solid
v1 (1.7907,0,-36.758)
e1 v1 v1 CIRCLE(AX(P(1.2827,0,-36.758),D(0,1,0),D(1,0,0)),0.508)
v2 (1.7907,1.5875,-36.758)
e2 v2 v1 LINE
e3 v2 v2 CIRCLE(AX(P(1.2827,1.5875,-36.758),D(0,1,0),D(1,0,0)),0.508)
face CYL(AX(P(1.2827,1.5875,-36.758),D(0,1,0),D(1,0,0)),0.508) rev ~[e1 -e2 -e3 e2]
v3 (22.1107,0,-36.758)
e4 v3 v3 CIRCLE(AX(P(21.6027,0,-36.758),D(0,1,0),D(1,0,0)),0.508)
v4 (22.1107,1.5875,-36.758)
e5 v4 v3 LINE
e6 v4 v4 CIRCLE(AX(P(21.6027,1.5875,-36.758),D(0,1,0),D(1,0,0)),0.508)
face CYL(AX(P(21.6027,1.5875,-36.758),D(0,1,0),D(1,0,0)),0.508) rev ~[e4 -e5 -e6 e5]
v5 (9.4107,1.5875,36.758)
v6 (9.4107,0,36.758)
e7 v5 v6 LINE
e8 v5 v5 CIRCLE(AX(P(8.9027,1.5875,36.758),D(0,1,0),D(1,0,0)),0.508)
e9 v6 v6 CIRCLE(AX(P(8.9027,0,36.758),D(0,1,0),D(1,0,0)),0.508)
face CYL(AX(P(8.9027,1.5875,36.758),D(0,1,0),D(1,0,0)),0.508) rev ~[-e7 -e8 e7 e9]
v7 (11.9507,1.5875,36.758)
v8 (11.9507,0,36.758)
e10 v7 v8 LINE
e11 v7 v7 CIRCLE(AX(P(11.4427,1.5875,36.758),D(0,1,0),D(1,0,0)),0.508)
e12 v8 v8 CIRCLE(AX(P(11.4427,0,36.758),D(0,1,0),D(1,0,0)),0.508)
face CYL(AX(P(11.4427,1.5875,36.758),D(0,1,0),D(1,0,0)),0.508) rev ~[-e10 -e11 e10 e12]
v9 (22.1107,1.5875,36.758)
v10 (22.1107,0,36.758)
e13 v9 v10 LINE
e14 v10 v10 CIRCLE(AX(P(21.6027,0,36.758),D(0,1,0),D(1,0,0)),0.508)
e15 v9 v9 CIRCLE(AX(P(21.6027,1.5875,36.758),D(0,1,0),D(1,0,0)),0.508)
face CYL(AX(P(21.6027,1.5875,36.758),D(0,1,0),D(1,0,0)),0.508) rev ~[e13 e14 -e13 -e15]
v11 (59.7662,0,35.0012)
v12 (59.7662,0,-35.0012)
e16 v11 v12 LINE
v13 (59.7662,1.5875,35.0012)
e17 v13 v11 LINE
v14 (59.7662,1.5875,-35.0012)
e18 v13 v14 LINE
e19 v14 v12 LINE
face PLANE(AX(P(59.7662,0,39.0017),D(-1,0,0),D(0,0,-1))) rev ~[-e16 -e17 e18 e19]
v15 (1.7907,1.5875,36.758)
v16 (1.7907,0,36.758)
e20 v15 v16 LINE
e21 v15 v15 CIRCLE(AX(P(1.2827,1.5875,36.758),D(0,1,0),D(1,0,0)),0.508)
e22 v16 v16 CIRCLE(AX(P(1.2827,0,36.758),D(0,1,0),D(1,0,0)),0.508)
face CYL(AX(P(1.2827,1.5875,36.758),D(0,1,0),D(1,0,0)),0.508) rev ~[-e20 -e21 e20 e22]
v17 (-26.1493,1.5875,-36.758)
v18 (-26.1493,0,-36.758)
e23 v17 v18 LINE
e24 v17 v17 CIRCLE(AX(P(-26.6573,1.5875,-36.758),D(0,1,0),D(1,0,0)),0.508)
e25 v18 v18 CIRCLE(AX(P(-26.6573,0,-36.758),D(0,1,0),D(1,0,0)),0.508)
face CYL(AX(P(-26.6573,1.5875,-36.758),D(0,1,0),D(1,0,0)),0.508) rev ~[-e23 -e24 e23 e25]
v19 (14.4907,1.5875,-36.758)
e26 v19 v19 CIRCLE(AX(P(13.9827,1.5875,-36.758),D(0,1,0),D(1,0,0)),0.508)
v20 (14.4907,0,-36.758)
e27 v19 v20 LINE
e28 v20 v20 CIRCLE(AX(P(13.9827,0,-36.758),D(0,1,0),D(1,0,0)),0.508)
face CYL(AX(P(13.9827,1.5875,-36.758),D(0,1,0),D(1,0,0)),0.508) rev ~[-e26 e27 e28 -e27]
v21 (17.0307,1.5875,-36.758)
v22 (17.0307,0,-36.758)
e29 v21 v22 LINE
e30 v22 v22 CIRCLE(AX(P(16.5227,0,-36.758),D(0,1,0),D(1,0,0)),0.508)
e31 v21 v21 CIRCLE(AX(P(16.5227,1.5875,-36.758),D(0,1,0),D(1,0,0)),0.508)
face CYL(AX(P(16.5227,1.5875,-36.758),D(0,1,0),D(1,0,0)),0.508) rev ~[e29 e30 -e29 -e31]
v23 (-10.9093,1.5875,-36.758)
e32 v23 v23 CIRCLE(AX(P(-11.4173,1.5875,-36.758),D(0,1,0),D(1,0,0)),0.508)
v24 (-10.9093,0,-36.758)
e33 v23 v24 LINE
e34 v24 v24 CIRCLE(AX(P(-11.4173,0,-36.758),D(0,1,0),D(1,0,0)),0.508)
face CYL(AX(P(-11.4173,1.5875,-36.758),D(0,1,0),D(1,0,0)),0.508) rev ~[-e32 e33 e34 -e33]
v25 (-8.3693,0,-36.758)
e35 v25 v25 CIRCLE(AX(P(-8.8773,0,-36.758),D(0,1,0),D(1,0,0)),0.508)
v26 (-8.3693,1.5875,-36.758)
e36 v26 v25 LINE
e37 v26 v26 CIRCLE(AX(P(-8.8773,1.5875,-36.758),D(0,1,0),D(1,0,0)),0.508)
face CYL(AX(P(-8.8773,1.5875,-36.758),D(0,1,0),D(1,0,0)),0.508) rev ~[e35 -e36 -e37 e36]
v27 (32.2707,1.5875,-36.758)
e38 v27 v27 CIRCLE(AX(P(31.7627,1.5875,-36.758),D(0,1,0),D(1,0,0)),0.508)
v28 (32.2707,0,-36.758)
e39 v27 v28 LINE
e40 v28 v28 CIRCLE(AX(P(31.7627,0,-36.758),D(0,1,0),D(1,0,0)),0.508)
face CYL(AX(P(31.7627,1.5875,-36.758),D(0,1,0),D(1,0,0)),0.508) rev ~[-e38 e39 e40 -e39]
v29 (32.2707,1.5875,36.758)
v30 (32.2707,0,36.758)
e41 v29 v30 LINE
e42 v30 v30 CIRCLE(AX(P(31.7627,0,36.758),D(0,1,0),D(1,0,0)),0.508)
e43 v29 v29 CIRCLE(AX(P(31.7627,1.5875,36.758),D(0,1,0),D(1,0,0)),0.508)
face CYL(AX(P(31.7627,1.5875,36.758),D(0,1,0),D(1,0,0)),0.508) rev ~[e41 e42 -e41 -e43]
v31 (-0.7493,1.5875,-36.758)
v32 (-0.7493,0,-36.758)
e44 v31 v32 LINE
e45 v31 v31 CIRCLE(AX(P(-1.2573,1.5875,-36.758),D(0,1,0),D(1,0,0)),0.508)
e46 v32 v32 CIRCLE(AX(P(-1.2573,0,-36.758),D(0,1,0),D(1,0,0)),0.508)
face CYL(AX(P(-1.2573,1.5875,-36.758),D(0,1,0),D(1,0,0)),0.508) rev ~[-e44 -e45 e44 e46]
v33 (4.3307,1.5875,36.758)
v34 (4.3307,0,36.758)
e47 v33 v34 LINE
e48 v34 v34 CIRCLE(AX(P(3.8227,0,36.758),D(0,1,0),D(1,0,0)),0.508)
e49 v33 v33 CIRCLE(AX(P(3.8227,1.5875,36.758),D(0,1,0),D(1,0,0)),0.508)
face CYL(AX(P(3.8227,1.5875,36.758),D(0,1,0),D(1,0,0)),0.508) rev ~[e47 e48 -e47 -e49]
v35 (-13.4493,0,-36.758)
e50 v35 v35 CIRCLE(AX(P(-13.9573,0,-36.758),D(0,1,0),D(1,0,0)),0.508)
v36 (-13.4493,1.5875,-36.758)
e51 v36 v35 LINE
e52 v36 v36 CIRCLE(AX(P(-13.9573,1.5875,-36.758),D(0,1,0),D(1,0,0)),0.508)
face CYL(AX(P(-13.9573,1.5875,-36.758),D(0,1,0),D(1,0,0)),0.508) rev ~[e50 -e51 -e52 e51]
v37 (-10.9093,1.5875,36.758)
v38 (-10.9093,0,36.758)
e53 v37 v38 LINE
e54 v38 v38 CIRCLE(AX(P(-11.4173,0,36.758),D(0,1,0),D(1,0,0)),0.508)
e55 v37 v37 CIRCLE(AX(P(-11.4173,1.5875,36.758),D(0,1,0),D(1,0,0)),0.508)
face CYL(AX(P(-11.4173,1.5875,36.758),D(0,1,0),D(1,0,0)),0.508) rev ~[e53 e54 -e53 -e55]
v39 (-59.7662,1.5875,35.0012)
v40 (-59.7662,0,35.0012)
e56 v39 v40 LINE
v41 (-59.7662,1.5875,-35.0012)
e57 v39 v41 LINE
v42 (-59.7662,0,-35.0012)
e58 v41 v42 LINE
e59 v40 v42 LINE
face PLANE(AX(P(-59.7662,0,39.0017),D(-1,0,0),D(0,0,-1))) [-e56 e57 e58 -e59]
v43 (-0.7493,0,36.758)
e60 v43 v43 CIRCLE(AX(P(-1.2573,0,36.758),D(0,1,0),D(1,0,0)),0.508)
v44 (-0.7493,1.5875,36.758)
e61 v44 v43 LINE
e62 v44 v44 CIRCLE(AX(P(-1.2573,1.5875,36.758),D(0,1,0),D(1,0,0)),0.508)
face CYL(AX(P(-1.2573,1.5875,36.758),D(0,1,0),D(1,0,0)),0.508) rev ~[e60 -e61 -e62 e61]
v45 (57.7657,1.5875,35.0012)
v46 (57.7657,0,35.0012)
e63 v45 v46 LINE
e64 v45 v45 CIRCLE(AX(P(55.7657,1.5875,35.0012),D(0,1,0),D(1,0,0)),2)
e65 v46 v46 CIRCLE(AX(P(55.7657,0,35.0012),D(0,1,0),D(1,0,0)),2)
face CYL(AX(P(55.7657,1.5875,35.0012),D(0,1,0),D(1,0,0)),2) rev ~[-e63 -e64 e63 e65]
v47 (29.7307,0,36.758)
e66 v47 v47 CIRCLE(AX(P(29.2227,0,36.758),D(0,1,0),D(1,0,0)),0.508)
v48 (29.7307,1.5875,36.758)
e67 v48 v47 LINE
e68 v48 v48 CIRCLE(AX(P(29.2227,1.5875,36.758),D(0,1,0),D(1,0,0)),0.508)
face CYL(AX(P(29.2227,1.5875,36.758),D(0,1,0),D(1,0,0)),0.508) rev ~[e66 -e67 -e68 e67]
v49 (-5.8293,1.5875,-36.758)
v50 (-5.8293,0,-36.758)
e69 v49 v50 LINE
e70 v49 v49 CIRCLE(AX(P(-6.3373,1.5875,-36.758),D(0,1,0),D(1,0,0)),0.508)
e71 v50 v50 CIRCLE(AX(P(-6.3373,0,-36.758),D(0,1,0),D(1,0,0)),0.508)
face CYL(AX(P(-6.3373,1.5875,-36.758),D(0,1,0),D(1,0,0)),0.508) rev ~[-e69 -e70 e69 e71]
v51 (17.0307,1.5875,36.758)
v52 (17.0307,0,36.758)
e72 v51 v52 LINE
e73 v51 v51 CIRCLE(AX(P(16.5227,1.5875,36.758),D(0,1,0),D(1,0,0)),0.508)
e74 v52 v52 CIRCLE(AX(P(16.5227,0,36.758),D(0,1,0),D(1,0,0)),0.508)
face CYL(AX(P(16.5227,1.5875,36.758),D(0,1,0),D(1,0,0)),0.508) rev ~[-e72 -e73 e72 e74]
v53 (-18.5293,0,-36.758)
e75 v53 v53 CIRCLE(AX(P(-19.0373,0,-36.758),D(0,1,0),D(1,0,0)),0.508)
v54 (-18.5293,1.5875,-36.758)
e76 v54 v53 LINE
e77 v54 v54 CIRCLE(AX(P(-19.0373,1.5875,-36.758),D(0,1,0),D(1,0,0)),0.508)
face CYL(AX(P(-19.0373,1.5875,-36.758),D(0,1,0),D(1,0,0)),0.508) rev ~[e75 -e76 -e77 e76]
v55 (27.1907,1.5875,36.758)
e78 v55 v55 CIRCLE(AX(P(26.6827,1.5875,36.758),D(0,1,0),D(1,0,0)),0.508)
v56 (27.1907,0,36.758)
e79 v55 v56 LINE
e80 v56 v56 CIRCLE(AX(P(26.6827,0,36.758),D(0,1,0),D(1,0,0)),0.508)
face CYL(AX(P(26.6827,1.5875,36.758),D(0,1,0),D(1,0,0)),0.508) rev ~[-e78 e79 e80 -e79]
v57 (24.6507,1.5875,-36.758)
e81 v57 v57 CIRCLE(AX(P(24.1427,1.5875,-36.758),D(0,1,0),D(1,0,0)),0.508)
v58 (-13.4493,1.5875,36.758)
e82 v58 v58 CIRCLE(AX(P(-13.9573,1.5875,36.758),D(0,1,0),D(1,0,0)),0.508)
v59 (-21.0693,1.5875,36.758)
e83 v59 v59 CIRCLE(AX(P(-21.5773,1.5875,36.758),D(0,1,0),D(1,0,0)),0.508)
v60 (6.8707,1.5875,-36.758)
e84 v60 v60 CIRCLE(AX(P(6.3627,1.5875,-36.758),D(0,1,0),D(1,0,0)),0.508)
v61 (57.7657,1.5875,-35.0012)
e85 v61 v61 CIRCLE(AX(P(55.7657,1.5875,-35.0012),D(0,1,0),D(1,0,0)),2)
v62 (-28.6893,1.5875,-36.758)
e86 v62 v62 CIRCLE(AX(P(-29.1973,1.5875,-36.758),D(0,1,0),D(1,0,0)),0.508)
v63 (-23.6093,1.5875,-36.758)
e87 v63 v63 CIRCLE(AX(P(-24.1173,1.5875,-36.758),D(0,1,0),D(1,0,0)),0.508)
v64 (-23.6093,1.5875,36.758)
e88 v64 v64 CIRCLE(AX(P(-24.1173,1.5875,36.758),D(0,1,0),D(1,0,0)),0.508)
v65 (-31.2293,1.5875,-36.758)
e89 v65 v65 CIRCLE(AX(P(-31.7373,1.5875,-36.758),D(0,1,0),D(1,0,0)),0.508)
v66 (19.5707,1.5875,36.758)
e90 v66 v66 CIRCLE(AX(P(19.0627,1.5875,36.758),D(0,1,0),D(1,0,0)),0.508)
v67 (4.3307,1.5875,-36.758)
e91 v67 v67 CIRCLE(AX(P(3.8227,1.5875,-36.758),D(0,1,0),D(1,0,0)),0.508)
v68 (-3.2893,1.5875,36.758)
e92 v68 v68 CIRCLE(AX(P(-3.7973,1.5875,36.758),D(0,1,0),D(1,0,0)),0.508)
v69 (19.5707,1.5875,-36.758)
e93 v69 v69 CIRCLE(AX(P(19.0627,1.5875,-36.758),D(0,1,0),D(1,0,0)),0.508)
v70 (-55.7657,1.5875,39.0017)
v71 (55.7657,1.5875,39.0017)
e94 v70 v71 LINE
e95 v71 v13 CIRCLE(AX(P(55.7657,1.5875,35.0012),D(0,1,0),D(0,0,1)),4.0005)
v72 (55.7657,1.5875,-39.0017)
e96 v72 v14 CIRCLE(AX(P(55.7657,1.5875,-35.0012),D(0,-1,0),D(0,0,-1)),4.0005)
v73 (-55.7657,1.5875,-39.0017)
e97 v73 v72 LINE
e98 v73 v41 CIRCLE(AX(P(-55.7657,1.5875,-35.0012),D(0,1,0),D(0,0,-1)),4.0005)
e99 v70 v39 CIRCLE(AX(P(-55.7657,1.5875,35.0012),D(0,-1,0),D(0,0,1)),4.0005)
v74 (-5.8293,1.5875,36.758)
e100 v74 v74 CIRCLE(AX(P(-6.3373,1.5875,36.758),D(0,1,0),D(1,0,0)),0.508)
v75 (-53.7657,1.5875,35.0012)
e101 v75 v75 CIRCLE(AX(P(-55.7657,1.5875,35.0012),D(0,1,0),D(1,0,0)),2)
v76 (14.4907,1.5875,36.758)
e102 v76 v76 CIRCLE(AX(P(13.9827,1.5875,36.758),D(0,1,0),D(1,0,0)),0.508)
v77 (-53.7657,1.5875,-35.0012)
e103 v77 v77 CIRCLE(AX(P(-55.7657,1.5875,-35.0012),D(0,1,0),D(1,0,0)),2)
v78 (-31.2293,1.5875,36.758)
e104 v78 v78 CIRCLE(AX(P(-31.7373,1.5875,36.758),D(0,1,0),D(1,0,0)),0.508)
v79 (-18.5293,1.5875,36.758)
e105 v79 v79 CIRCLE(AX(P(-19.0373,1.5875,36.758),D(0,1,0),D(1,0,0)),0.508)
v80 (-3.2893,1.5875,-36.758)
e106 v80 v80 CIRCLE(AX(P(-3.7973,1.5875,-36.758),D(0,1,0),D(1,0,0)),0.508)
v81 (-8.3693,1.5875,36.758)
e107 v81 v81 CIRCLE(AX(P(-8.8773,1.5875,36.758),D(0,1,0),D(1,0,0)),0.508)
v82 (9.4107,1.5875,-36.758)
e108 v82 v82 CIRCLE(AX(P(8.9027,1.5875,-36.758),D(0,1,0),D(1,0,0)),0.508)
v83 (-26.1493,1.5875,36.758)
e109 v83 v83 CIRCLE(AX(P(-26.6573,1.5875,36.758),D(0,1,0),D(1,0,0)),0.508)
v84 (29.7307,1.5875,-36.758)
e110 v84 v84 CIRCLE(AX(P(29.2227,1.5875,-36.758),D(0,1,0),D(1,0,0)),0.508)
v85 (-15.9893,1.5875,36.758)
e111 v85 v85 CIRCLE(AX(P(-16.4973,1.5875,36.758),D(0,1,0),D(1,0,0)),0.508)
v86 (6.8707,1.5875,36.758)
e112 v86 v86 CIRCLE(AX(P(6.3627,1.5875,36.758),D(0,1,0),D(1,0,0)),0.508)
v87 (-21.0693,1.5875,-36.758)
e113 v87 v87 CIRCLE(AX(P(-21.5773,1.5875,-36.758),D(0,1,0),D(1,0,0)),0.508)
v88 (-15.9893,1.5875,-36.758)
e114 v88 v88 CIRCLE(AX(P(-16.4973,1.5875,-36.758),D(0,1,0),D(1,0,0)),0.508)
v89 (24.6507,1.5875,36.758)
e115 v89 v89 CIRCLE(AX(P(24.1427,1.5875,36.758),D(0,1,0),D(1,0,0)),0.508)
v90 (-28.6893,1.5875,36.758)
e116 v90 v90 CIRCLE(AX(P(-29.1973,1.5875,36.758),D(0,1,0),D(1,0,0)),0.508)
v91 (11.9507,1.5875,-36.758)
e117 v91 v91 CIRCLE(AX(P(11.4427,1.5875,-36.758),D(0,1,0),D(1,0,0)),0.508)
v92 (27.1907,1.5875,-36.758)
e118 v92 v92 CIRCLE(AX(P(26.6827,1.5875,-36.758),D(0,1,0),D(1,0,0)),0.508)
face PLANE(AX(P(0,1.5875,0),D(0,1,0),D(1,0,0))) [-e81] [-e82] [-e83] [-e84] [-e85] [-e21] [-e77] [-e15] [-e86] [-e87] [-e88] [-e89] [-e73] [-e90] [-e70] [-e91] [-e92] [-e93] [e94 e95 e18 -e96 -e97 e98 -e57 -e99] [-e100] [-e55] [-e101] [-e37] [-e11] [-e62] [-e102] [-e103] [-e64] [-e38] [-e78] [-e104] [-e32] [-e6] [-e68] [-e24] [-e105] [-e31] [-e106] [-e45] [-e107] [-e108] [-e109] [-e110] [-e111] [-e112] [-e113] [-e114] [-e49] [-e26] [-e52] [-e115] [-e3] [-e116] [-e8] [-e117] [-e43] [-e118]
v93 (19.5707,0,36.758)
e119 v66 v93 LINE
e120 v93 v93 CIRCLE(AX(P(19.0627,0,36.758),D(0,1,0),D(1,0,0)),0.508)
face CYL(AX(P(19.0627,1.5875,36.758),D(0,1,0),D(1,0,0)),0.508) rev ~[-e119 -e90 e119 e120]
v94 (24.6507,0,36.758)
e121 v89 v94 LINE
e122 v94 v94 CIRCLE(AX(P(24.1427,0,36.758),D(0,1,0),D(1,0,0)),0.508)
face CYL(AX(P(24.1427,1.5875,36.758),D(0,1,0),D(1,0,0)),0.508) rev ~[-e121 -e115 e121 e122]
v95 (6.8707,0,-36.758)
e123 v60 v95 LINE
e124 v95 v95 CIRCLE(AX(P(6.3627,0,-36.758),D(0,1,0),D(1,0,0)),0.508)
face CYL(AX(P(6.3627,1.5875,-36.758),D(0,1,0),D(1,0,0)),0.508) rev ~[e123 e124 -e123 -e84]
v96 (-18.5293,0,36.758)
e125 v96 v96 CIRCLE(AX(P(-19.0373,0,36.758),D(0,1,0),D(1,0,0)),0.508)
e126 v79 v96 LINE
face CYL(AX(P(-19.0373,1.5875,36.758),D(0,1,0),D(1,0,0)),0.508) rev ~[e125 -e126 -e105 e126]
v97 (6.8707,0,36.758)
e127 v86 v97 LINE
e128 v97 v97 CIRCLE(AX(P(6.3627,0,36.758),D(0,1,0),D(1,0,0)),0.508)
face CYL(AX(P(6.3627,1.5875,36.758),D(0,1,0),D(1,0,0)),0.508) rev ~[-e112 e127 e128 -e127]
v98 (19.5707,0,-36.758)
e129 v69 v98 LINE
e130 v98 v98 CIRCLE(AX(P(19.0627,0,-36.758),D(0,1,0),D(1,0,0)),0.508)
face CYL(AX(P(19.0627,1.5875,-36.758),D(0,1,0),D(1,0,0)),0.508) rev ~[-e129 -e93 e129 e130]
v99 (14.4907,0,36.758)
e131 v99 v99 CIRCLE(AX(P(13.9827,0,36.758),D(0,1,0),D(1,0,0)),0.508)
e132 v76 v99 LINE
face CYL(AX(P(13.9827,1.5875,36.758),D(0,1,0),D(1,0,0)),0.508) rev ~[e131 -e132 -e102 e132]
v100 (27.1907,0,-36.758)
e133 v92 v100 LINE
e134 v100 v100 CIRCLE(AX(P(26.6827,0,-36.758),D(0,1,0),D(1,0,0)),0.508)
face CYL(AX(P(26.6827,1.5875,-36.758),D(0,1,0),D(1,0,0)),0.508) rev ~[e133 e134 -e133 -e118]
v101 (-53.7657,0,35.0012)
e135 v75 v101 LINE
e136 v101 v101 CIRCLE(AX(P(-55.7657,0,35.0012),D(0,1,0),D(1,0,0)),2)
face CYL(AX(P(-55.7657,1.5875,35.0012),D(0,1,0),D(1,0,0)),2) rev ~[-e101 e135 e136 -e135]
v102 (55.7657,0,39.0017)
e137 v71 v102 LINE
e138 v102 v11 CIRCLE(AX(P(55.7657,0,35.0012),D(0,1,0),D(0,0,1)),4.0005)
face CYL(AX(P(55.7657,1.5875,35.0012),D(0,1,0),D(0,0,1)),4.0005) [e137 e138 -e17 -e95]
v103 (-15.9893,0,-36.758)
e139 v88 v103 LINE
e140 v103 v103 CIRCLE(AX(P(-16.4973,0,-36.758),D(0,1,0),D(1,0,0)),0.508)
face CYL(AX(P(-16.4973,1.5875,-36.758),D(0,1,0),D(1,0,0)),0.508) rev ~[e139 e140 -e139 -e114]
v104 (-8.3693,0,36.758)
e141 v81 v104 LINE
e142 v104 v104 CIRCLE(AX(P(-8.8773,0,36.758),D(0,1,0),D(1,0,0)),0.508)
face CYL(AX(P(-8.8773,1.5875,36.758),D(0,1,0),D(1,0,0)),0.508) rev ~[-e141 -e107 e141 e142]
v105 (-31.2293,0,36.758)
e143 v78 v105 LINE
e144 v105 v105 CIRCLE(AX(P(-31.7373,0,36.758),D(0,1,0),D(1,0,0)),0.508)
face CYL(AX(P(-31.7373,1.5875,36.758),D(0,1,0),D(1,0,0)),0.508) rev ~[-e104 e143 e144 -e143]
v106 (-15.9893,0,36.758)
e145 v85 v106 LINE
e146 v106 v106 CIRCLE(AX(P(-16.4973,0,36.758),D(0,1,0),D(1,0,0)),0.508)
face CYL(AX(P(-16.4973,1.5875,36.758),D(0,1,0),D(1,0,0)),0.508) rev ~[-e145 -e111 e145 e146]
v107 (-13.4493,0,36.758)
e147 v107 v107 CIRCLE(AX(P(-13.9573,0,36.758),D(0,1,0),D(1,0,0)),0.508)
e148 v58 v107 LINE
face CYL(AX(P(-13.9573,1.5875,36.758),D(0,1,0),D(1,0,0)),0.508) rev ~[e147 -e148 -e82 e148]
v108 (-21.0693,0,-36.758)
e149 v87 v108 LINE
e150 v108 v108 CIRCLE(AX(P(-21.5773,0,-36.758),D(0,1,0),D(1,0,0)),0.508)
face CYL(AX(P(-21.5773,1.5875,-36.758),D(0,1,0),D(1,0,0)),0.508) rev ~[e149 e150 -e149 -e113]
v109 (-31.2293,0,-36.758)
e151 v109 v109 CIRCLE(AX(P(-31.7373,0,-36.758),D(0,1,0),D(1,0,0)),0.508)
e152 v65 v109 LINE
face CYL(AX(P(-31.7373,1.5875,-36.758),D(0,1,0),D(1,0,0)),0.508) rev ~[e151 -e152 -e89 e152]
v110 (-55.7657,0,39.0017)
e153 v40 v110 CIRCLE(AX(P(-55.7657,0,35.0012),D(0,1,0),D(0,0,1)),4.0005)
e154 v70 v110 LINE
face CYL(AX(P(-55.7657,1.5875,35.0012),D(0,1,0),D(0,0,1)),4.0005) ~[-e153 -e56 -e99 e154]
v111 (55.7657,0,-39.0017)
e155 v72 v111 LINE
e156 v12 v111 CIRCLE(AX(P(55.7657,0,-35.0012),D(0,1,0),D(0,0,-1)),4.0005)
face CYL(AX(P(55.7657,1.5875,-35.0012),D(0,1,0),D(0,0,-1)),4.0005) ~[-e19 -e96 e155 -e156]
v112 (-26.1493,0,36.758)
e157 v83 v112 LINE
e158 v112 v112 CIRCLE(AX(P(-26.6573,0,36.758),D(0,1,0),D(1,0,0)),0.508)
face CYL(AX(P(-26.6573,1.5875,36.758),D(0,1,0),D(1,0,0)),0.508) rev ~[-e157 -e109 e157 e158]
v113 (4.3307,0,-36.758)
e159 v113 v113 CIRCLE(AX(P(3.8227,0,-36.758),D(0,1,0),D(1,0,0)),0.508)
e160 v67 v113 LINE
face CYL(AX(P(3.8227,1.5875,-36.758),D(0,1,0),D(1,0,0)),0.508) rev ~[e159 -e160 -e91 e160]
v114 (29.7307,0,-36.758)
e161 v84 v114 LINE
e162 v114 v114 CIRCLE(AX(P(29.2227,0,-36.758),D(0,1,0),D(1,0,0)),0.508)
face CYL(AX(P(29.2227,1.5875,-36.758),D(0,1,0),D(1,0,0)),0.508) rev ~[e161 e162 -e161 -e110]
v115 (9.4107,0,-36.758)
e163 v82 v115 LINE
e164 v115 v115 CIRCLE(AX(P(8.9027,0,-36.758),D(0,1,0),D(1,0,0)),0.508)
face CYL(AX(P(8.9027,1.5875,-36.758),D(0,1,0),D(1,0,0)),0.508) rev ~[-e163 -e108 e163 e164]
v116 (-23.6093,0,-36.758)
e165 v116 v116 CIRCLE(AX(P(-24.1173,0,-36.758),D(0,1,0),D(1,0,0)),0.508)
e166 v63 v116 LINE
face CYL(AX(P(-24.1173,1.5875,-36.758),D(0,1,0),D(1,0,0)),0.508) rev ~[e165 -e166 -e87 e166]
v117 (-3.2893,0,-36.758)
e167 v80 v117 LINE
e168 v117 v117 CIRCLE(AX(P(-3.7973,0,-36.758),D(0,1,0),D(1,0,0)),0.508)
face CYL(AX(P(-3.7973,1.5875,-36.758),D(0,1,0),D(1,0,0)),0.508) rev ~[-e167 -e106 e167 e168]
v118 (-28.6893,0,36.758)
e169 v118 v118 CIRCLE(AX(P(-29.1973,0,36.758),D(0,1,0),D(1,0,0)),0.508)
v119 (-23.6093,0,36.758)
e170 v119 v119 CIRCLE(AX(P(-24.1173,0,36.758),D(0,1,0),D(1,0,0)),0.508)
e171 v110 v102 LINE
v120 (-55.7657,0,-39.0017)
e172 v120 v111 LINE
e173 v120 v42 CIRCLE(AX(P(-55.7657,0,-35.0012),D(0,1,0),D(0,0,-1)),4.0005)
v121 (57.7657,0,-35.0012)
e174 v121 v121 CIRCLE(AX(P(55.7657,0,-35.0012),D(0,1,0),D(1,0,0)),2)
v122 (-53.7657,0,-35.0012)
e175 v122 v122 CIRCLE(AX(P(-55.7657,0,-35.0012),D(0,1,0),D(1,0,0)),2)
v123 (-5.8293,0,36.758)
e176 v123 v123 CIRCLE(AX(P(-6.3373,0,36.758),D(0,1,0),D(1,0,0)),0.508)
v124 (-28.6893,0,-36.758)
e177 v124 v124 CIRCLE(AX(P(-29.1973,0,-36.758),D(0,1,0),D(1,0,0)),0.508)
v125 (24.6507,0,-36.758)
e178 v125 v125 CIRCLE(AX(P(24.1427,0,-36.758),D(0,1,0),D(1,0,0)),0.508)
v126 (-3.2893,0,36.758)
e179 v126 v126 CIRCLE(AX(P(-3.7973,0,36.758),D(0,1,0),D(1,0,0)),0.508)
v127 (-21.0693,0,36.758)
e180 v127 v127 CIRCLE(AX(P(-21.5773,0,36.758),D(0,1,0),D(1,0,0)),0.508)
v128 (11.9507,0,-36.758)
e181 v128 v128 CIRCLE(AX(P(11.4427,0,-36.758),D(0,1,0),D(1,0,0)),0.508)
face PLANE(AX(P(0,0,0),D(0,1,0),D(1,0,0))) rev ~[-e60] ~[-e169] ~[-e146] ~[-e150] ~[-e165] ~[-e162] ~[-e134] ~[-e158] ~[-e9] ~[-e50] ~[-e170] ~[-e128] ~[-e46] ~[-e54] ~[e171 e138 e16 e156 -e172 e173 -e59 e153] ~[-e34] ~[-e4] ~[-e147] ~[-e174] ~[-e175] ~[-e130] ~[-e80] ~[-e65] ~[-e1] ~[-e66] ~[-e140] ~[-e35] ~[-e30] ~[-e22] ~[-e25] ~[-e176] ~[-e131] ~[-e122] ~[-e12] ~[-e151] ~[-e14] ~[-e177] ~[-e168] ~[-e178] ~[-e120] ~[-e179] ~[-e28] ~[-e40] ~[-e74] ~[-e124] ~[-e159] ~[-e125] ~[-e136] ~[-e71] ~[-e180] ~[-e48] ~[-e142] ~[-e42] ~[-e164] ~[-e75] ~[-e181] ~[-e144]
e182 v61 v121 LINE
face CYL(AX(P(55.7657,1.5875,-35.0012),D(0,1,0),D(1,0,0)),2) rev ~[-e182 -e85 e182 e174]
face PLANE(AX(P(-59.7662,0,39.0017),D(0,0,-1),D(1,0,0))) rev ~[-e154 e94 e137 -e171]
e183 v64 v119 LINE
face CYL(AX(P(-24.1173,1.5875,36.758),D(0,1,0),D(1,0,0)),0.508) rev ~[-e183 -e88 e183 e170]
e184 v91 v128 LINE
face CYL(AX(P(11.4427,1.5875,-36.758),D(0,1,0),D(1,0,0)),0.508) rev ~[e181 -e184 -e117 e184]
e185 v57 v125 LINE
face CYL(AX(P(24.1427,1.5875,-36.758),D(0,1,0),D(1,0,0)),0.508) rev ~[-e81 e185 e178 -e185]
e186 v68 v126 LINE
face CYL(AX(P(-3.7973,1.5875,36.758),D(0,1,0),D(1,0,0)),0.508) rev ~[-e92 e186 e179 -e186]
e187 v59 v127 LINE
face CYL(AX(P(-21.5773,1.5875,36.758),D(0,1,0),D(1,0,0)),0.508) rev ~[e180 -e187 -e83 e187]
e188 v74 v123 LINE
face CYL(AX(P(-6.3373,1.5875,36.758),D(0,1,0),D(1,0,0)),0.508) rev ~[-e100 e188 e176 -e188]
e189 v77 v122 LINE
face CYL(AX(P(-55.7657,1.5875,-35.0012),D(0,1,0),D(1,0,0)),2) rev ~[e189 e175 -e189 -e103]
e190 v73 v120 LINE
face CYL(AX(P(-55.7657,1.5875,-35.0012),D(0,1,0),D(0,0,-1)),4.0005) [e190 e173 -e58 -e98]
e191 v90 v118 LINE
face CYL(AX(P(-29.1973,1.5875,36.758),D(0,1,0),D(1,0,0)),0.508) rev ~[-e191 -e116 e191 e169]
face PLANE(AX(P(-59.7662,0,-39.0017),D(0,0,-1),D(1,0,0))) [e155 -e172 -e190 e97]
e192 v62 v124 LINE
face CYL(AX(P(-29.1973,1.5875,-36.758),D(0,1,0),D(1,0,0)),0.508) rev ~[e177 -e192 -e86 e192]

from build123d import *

# Parameters (mm, degrees)
SKETCH1_W           = 119.5324
SKETCH1_H           = 78.0034
BOSS_EXTRUDE1_DEPTH = 1.5875
CUT_EXTRUDE1_REACH  = 73.384
SKETCH2_R           = 2
CUT_EXTRUDE2_REACH  = 73.384
SKETCH3_R           = 0.508
CUT_EXTRUDE4_REACH  = 73.384
LPATTERN1_COUNT     = 26
LPATTERN1_PITCH     = 2.54


with BuildPart() as part:
    # Sketch1 → Boss-Extrude1 (new body)
    with BuildSketch(Plane(origin=(0, 0, 0), x_dir=(1, 0, 0), z_dir=(0, 1, 0))):
        Rectangle(SKETCH1_W, SKETCH1_H)
    extrude(amount=BOSS_EXTRUDE1_DEPTH)

    # Sketch2 → Cut-Extrude1 (cut, up to next)
    with BuildSketch(Plane(origin=(0, 1.5875, 0), x_dir=(1, 0, 0), z_dir=(0, 1, 0)), mode=Mode.PRIVATE) as cut_extrude1_sk1:
        with Locations((-55.7657, 35.0012)):
            Circle(SKETCH2_R)
    cut_extrude1_tool1 = extrude(cut_extrude1_sk1.sketch, amount=-CUT_EXTRUDE1_REACH, mode=Mode.PRIVATE) & part.part
    # Sketch2 → Cut-Extrude1 (cut, up to next)
    with BuildSketch(Plane(origin=(0, 1.5875, 0), x_dir=(1, 0, 0), z_dir=(0, 1, 0)), mode=Mode.PRIVATE) as cut_extrude1_sk2:
        with Locations((-55.7657, -35.0012)):
            Circle(SKETCH2_R)
    cut_extrude1_tool2 = extrude(cut_extrude1_sk2.sketch, amount=-CUT_EXTRUDE1_REACH, mode=Mode.PRIVATE) & part.part
    # Sketch2 → Cut-Extrude1 (cut, up to next)
    with BuildSketch(Plane(origin=(0, 1.5875, 0), x_dir=(1, 0, 0), z_dir=(0, 1, 0)), mode=Mode.PRIVATE) as cut_extrude1_sk3:
        with Locations((55.7657, 35.0012)):
            Circle(SKETCH2_R)
    cut_extrude1_tool3 = extrude(cut_extrude1_sk3.sketch, amount=-CUT_EXTRUDE1_REACH, mode=Mode.PRIVATE) & part.part
    # Sketch2 → Cut-Extrude1 (cut, up to next)
    with BuildSketch(Plane(origin=(0, 1.5875, 0), x_dir=(1, 0, 0), z_dir=(0, 1, 0)), mode=Mode.PRIVATE) as cut_extrude1_sk4:
        with Locations((55.7657, -35.0012)):
            Circle(SKETCH2_R)
    cut_extrude1_tool4 = extrude(cut_extrude1_sk4.sketch, amount=-CUT_EXTRUDE1_REACH, mode=Mode.PRIVATE) & part.part
    add(cut_extrude1_tool1.solids().sort_by_distance((-55.7657, 1.5875, -35.0012))[0], mode=Mode.SUBTRACT)
    add(cut_extrude1_tool2.solids().sort_by_distance((-55.7657, 1.5875, 35.0012))[0], mode=Mode.SUBTRACT)
    add(cut_extrude1_tool3.solids().sort_by_distance((55.7657, 1.5875, -35.0012))[0], mode=Mode.SUBTRACT)
    add(cut_extrude1_tool4.solids().sort_by_distance((55.7657, 1.5875, 35.0012))[0], mode=Mode.SUBTRACT)

    # Sketch3 → Cut-Extrude2 (cut, up to next)
    with BuildSketch(Plane(origin=(0, 1.5875, 0), x_dir=(1, 0, 0), z_dir=(0, 1, 0)), mode=Mode.PRIVATE) as cut_extrude2_sk1:
        with Locations((-31.7373, 36.758)):
            Circle(SKETCH3_R)
    cut_extrude2_tool1 = extrude(cut_extrude2_sk1.sketch, amount=-CUT_EXTRUDE2_REACH, mode=Mode.PRIVATE) & part.part
    # Sketch3 → Cut-Extrude2 (cut, up to next)
    with BuildSketch(Plane(origin=(0, 1.5875, 0), x_dir=(1, 0, 0), z_dir=(0, 1, 0)), mode=Mode.PRIVATE) as cut_extrude2_sk2:
        with Locations((-31.7373, -36.758)):
            Circle(SKETCH3_R)
    cut_extrude2_tool2 = extrude(cut_extrude2_sk2.sketch, amount=-CUT_EXTRUDE2_REACH, mode=Mode.PRIVATE) & part.part
    cut_extrude2_1 = cut_extrude2_tool1.solids().sort_by_distance((-31.7373, 1.5875, -36.758))[0]
    add(cut_extrude2_1, mode=Mode.SUBTRACT)
    cut_extrude2_2 = cut_extrude2_tool2.solids().sort_by_distance((-31.7373, 1.5875, 36.758))[0]
    add(cut_extrude2_2, mode=Mode.SUBTRACT)
    cut_extrude2 = cut_extrude2_1 + cut_extrude2_2  # Cut-Extrude2 as one shape, for the pattern or mirror that repeats it

    # Sketch11 → Cut-Extrude4 (cut, up to next)
    with BuildSketch(Plane(origin=(0, 1.5875, 0), x_dir=(1, 0, 0), z_dir=(0, 1, 0)), mode=Mode.PRIVATE) as cut_extrude4_sk1:
        with BuildLine():
            Line((-59.7662, 35.0012), (-59.7662, 39.0017))
            Line((-59.7662, 39.0017), (-55.7657, 39.0017))
            ThreePointArc((-55.7657, 39.0017), (-58.594480678, 37.829980678), (-59.7662, 35.0012))
        make_face()
    cut_extrude4_tool1 = extrude(cut_extrude4_sk1.sketch, amount=-CUT_EXTRUDE4_REACH, mode=Mode.PRIVATE) & part.part
    # Sketch11 → Cut-Extrude4 (cut, up to next)
    with BuildSketch(Plane(origin=(0, 1.5875, 0), x_dir=(1, 0, 0), z_dir=(0, 1, 0)), mode=Mode.PRIVATE) as cut_extrude4_sk2:
        with BuildLine():
            Line((-59.7662, -39.0017), (-55.7657, -39.0017))
            ThreePointArc((-55.7657, -39.0017), (-58.594480678, -37.829980678), (-59.7662, -35.0012))
            Line((-59.7662, -35.0012), (-59.7662, -39.0017))
        make_face()
    cut_extrude4_tool2 = extrude(cut_extrude4_sk2.sketch, amount=-CUT_EXTRUDE4_REACH, mode=Mode.PRIVATE) & part.part
    # Sketch11 → Cut-Extrude4 (cut, up to next)
    with BuildSketch(Plane(origin=(0, 1.5875, 0), x_dir=(1, 0, 0), z_dir=(0, 1, 0)), mode=Mode.PRIVATE) as cut_extrude4_sk3:
        with BuildLine():
            Line((59.7662, -35.0012), (59.7662, -39.0017))
            Line((59.7662, -39.0017), (55.7657, -39.0017))
            ThreePointArc((55.7657, -39.0017), (58.594480678, -37.829980678), (59.7662, -35.0012))
        make_face()
    cut_extrude4_tool3 = extrude(cut_extrude4_sk3.sketch, amount=-CUT_EXTRUDE4_REACH, mode=Mode.PRIVATE) & part.part
    # Sketch11 → Cut-Extrude4 (cut, up to next)
    with BuildSketch(Plane(origin=(0, 1.5875, 0), x_dir=(1, 0, 0), z_dir=(0, 1, 0)), mode=Mode.PRIVATE) as cut_extrude4_sk4:
        with BuildLine():
            Line((59.7662, 39.0017), (55.7657, 39.0017))
            ThreePointArc((55.7657, 39.0017), (58.594480678, 37.829980678), (59.7662, 35.0012))
            Line((59.7662, 35.0012), (59.7662, 39.0017))
        make_face()
    cut_extrude4_tool4 = extrude(cut_extrude4_sk4.sketch, amount=-CUT_EXTRUDE4_REACH, mode=Mode.PRIVATE) & part.part
    add(cut_extrude4_tool1.solids().sort_by_distance((-58.872617, 1.5875, -38.108117))[0], mode=Mode.SUBTRACT)
    add(cut_extrude4_tool2.solids().sort_by_distance((-58.872617, 1.5875, 38.108117))[0], mode=Mode.SUBTRACT)
    add(cut_extrude4_tool3.solids().sort_by_distance((58.872617, 1.5875, 38.108117))[0], mode=Mode.SUBTRACT)
    add(cut_extrude4_tool4.solids().sort_by_distance((58.872617, 1.5875, -38.108117))[0], mode=Mode.SUBTRACT)

    # LPattern1: Cut-Extrude2 ×26
    with Locations(*[(i * LPATTERN1_PITCH, 0, 0) for i in range(1, LPATTERN1_COUNT)]):
        add(cut_extrude2, mode=Mode.SUBTRACT)


solid = part.part
